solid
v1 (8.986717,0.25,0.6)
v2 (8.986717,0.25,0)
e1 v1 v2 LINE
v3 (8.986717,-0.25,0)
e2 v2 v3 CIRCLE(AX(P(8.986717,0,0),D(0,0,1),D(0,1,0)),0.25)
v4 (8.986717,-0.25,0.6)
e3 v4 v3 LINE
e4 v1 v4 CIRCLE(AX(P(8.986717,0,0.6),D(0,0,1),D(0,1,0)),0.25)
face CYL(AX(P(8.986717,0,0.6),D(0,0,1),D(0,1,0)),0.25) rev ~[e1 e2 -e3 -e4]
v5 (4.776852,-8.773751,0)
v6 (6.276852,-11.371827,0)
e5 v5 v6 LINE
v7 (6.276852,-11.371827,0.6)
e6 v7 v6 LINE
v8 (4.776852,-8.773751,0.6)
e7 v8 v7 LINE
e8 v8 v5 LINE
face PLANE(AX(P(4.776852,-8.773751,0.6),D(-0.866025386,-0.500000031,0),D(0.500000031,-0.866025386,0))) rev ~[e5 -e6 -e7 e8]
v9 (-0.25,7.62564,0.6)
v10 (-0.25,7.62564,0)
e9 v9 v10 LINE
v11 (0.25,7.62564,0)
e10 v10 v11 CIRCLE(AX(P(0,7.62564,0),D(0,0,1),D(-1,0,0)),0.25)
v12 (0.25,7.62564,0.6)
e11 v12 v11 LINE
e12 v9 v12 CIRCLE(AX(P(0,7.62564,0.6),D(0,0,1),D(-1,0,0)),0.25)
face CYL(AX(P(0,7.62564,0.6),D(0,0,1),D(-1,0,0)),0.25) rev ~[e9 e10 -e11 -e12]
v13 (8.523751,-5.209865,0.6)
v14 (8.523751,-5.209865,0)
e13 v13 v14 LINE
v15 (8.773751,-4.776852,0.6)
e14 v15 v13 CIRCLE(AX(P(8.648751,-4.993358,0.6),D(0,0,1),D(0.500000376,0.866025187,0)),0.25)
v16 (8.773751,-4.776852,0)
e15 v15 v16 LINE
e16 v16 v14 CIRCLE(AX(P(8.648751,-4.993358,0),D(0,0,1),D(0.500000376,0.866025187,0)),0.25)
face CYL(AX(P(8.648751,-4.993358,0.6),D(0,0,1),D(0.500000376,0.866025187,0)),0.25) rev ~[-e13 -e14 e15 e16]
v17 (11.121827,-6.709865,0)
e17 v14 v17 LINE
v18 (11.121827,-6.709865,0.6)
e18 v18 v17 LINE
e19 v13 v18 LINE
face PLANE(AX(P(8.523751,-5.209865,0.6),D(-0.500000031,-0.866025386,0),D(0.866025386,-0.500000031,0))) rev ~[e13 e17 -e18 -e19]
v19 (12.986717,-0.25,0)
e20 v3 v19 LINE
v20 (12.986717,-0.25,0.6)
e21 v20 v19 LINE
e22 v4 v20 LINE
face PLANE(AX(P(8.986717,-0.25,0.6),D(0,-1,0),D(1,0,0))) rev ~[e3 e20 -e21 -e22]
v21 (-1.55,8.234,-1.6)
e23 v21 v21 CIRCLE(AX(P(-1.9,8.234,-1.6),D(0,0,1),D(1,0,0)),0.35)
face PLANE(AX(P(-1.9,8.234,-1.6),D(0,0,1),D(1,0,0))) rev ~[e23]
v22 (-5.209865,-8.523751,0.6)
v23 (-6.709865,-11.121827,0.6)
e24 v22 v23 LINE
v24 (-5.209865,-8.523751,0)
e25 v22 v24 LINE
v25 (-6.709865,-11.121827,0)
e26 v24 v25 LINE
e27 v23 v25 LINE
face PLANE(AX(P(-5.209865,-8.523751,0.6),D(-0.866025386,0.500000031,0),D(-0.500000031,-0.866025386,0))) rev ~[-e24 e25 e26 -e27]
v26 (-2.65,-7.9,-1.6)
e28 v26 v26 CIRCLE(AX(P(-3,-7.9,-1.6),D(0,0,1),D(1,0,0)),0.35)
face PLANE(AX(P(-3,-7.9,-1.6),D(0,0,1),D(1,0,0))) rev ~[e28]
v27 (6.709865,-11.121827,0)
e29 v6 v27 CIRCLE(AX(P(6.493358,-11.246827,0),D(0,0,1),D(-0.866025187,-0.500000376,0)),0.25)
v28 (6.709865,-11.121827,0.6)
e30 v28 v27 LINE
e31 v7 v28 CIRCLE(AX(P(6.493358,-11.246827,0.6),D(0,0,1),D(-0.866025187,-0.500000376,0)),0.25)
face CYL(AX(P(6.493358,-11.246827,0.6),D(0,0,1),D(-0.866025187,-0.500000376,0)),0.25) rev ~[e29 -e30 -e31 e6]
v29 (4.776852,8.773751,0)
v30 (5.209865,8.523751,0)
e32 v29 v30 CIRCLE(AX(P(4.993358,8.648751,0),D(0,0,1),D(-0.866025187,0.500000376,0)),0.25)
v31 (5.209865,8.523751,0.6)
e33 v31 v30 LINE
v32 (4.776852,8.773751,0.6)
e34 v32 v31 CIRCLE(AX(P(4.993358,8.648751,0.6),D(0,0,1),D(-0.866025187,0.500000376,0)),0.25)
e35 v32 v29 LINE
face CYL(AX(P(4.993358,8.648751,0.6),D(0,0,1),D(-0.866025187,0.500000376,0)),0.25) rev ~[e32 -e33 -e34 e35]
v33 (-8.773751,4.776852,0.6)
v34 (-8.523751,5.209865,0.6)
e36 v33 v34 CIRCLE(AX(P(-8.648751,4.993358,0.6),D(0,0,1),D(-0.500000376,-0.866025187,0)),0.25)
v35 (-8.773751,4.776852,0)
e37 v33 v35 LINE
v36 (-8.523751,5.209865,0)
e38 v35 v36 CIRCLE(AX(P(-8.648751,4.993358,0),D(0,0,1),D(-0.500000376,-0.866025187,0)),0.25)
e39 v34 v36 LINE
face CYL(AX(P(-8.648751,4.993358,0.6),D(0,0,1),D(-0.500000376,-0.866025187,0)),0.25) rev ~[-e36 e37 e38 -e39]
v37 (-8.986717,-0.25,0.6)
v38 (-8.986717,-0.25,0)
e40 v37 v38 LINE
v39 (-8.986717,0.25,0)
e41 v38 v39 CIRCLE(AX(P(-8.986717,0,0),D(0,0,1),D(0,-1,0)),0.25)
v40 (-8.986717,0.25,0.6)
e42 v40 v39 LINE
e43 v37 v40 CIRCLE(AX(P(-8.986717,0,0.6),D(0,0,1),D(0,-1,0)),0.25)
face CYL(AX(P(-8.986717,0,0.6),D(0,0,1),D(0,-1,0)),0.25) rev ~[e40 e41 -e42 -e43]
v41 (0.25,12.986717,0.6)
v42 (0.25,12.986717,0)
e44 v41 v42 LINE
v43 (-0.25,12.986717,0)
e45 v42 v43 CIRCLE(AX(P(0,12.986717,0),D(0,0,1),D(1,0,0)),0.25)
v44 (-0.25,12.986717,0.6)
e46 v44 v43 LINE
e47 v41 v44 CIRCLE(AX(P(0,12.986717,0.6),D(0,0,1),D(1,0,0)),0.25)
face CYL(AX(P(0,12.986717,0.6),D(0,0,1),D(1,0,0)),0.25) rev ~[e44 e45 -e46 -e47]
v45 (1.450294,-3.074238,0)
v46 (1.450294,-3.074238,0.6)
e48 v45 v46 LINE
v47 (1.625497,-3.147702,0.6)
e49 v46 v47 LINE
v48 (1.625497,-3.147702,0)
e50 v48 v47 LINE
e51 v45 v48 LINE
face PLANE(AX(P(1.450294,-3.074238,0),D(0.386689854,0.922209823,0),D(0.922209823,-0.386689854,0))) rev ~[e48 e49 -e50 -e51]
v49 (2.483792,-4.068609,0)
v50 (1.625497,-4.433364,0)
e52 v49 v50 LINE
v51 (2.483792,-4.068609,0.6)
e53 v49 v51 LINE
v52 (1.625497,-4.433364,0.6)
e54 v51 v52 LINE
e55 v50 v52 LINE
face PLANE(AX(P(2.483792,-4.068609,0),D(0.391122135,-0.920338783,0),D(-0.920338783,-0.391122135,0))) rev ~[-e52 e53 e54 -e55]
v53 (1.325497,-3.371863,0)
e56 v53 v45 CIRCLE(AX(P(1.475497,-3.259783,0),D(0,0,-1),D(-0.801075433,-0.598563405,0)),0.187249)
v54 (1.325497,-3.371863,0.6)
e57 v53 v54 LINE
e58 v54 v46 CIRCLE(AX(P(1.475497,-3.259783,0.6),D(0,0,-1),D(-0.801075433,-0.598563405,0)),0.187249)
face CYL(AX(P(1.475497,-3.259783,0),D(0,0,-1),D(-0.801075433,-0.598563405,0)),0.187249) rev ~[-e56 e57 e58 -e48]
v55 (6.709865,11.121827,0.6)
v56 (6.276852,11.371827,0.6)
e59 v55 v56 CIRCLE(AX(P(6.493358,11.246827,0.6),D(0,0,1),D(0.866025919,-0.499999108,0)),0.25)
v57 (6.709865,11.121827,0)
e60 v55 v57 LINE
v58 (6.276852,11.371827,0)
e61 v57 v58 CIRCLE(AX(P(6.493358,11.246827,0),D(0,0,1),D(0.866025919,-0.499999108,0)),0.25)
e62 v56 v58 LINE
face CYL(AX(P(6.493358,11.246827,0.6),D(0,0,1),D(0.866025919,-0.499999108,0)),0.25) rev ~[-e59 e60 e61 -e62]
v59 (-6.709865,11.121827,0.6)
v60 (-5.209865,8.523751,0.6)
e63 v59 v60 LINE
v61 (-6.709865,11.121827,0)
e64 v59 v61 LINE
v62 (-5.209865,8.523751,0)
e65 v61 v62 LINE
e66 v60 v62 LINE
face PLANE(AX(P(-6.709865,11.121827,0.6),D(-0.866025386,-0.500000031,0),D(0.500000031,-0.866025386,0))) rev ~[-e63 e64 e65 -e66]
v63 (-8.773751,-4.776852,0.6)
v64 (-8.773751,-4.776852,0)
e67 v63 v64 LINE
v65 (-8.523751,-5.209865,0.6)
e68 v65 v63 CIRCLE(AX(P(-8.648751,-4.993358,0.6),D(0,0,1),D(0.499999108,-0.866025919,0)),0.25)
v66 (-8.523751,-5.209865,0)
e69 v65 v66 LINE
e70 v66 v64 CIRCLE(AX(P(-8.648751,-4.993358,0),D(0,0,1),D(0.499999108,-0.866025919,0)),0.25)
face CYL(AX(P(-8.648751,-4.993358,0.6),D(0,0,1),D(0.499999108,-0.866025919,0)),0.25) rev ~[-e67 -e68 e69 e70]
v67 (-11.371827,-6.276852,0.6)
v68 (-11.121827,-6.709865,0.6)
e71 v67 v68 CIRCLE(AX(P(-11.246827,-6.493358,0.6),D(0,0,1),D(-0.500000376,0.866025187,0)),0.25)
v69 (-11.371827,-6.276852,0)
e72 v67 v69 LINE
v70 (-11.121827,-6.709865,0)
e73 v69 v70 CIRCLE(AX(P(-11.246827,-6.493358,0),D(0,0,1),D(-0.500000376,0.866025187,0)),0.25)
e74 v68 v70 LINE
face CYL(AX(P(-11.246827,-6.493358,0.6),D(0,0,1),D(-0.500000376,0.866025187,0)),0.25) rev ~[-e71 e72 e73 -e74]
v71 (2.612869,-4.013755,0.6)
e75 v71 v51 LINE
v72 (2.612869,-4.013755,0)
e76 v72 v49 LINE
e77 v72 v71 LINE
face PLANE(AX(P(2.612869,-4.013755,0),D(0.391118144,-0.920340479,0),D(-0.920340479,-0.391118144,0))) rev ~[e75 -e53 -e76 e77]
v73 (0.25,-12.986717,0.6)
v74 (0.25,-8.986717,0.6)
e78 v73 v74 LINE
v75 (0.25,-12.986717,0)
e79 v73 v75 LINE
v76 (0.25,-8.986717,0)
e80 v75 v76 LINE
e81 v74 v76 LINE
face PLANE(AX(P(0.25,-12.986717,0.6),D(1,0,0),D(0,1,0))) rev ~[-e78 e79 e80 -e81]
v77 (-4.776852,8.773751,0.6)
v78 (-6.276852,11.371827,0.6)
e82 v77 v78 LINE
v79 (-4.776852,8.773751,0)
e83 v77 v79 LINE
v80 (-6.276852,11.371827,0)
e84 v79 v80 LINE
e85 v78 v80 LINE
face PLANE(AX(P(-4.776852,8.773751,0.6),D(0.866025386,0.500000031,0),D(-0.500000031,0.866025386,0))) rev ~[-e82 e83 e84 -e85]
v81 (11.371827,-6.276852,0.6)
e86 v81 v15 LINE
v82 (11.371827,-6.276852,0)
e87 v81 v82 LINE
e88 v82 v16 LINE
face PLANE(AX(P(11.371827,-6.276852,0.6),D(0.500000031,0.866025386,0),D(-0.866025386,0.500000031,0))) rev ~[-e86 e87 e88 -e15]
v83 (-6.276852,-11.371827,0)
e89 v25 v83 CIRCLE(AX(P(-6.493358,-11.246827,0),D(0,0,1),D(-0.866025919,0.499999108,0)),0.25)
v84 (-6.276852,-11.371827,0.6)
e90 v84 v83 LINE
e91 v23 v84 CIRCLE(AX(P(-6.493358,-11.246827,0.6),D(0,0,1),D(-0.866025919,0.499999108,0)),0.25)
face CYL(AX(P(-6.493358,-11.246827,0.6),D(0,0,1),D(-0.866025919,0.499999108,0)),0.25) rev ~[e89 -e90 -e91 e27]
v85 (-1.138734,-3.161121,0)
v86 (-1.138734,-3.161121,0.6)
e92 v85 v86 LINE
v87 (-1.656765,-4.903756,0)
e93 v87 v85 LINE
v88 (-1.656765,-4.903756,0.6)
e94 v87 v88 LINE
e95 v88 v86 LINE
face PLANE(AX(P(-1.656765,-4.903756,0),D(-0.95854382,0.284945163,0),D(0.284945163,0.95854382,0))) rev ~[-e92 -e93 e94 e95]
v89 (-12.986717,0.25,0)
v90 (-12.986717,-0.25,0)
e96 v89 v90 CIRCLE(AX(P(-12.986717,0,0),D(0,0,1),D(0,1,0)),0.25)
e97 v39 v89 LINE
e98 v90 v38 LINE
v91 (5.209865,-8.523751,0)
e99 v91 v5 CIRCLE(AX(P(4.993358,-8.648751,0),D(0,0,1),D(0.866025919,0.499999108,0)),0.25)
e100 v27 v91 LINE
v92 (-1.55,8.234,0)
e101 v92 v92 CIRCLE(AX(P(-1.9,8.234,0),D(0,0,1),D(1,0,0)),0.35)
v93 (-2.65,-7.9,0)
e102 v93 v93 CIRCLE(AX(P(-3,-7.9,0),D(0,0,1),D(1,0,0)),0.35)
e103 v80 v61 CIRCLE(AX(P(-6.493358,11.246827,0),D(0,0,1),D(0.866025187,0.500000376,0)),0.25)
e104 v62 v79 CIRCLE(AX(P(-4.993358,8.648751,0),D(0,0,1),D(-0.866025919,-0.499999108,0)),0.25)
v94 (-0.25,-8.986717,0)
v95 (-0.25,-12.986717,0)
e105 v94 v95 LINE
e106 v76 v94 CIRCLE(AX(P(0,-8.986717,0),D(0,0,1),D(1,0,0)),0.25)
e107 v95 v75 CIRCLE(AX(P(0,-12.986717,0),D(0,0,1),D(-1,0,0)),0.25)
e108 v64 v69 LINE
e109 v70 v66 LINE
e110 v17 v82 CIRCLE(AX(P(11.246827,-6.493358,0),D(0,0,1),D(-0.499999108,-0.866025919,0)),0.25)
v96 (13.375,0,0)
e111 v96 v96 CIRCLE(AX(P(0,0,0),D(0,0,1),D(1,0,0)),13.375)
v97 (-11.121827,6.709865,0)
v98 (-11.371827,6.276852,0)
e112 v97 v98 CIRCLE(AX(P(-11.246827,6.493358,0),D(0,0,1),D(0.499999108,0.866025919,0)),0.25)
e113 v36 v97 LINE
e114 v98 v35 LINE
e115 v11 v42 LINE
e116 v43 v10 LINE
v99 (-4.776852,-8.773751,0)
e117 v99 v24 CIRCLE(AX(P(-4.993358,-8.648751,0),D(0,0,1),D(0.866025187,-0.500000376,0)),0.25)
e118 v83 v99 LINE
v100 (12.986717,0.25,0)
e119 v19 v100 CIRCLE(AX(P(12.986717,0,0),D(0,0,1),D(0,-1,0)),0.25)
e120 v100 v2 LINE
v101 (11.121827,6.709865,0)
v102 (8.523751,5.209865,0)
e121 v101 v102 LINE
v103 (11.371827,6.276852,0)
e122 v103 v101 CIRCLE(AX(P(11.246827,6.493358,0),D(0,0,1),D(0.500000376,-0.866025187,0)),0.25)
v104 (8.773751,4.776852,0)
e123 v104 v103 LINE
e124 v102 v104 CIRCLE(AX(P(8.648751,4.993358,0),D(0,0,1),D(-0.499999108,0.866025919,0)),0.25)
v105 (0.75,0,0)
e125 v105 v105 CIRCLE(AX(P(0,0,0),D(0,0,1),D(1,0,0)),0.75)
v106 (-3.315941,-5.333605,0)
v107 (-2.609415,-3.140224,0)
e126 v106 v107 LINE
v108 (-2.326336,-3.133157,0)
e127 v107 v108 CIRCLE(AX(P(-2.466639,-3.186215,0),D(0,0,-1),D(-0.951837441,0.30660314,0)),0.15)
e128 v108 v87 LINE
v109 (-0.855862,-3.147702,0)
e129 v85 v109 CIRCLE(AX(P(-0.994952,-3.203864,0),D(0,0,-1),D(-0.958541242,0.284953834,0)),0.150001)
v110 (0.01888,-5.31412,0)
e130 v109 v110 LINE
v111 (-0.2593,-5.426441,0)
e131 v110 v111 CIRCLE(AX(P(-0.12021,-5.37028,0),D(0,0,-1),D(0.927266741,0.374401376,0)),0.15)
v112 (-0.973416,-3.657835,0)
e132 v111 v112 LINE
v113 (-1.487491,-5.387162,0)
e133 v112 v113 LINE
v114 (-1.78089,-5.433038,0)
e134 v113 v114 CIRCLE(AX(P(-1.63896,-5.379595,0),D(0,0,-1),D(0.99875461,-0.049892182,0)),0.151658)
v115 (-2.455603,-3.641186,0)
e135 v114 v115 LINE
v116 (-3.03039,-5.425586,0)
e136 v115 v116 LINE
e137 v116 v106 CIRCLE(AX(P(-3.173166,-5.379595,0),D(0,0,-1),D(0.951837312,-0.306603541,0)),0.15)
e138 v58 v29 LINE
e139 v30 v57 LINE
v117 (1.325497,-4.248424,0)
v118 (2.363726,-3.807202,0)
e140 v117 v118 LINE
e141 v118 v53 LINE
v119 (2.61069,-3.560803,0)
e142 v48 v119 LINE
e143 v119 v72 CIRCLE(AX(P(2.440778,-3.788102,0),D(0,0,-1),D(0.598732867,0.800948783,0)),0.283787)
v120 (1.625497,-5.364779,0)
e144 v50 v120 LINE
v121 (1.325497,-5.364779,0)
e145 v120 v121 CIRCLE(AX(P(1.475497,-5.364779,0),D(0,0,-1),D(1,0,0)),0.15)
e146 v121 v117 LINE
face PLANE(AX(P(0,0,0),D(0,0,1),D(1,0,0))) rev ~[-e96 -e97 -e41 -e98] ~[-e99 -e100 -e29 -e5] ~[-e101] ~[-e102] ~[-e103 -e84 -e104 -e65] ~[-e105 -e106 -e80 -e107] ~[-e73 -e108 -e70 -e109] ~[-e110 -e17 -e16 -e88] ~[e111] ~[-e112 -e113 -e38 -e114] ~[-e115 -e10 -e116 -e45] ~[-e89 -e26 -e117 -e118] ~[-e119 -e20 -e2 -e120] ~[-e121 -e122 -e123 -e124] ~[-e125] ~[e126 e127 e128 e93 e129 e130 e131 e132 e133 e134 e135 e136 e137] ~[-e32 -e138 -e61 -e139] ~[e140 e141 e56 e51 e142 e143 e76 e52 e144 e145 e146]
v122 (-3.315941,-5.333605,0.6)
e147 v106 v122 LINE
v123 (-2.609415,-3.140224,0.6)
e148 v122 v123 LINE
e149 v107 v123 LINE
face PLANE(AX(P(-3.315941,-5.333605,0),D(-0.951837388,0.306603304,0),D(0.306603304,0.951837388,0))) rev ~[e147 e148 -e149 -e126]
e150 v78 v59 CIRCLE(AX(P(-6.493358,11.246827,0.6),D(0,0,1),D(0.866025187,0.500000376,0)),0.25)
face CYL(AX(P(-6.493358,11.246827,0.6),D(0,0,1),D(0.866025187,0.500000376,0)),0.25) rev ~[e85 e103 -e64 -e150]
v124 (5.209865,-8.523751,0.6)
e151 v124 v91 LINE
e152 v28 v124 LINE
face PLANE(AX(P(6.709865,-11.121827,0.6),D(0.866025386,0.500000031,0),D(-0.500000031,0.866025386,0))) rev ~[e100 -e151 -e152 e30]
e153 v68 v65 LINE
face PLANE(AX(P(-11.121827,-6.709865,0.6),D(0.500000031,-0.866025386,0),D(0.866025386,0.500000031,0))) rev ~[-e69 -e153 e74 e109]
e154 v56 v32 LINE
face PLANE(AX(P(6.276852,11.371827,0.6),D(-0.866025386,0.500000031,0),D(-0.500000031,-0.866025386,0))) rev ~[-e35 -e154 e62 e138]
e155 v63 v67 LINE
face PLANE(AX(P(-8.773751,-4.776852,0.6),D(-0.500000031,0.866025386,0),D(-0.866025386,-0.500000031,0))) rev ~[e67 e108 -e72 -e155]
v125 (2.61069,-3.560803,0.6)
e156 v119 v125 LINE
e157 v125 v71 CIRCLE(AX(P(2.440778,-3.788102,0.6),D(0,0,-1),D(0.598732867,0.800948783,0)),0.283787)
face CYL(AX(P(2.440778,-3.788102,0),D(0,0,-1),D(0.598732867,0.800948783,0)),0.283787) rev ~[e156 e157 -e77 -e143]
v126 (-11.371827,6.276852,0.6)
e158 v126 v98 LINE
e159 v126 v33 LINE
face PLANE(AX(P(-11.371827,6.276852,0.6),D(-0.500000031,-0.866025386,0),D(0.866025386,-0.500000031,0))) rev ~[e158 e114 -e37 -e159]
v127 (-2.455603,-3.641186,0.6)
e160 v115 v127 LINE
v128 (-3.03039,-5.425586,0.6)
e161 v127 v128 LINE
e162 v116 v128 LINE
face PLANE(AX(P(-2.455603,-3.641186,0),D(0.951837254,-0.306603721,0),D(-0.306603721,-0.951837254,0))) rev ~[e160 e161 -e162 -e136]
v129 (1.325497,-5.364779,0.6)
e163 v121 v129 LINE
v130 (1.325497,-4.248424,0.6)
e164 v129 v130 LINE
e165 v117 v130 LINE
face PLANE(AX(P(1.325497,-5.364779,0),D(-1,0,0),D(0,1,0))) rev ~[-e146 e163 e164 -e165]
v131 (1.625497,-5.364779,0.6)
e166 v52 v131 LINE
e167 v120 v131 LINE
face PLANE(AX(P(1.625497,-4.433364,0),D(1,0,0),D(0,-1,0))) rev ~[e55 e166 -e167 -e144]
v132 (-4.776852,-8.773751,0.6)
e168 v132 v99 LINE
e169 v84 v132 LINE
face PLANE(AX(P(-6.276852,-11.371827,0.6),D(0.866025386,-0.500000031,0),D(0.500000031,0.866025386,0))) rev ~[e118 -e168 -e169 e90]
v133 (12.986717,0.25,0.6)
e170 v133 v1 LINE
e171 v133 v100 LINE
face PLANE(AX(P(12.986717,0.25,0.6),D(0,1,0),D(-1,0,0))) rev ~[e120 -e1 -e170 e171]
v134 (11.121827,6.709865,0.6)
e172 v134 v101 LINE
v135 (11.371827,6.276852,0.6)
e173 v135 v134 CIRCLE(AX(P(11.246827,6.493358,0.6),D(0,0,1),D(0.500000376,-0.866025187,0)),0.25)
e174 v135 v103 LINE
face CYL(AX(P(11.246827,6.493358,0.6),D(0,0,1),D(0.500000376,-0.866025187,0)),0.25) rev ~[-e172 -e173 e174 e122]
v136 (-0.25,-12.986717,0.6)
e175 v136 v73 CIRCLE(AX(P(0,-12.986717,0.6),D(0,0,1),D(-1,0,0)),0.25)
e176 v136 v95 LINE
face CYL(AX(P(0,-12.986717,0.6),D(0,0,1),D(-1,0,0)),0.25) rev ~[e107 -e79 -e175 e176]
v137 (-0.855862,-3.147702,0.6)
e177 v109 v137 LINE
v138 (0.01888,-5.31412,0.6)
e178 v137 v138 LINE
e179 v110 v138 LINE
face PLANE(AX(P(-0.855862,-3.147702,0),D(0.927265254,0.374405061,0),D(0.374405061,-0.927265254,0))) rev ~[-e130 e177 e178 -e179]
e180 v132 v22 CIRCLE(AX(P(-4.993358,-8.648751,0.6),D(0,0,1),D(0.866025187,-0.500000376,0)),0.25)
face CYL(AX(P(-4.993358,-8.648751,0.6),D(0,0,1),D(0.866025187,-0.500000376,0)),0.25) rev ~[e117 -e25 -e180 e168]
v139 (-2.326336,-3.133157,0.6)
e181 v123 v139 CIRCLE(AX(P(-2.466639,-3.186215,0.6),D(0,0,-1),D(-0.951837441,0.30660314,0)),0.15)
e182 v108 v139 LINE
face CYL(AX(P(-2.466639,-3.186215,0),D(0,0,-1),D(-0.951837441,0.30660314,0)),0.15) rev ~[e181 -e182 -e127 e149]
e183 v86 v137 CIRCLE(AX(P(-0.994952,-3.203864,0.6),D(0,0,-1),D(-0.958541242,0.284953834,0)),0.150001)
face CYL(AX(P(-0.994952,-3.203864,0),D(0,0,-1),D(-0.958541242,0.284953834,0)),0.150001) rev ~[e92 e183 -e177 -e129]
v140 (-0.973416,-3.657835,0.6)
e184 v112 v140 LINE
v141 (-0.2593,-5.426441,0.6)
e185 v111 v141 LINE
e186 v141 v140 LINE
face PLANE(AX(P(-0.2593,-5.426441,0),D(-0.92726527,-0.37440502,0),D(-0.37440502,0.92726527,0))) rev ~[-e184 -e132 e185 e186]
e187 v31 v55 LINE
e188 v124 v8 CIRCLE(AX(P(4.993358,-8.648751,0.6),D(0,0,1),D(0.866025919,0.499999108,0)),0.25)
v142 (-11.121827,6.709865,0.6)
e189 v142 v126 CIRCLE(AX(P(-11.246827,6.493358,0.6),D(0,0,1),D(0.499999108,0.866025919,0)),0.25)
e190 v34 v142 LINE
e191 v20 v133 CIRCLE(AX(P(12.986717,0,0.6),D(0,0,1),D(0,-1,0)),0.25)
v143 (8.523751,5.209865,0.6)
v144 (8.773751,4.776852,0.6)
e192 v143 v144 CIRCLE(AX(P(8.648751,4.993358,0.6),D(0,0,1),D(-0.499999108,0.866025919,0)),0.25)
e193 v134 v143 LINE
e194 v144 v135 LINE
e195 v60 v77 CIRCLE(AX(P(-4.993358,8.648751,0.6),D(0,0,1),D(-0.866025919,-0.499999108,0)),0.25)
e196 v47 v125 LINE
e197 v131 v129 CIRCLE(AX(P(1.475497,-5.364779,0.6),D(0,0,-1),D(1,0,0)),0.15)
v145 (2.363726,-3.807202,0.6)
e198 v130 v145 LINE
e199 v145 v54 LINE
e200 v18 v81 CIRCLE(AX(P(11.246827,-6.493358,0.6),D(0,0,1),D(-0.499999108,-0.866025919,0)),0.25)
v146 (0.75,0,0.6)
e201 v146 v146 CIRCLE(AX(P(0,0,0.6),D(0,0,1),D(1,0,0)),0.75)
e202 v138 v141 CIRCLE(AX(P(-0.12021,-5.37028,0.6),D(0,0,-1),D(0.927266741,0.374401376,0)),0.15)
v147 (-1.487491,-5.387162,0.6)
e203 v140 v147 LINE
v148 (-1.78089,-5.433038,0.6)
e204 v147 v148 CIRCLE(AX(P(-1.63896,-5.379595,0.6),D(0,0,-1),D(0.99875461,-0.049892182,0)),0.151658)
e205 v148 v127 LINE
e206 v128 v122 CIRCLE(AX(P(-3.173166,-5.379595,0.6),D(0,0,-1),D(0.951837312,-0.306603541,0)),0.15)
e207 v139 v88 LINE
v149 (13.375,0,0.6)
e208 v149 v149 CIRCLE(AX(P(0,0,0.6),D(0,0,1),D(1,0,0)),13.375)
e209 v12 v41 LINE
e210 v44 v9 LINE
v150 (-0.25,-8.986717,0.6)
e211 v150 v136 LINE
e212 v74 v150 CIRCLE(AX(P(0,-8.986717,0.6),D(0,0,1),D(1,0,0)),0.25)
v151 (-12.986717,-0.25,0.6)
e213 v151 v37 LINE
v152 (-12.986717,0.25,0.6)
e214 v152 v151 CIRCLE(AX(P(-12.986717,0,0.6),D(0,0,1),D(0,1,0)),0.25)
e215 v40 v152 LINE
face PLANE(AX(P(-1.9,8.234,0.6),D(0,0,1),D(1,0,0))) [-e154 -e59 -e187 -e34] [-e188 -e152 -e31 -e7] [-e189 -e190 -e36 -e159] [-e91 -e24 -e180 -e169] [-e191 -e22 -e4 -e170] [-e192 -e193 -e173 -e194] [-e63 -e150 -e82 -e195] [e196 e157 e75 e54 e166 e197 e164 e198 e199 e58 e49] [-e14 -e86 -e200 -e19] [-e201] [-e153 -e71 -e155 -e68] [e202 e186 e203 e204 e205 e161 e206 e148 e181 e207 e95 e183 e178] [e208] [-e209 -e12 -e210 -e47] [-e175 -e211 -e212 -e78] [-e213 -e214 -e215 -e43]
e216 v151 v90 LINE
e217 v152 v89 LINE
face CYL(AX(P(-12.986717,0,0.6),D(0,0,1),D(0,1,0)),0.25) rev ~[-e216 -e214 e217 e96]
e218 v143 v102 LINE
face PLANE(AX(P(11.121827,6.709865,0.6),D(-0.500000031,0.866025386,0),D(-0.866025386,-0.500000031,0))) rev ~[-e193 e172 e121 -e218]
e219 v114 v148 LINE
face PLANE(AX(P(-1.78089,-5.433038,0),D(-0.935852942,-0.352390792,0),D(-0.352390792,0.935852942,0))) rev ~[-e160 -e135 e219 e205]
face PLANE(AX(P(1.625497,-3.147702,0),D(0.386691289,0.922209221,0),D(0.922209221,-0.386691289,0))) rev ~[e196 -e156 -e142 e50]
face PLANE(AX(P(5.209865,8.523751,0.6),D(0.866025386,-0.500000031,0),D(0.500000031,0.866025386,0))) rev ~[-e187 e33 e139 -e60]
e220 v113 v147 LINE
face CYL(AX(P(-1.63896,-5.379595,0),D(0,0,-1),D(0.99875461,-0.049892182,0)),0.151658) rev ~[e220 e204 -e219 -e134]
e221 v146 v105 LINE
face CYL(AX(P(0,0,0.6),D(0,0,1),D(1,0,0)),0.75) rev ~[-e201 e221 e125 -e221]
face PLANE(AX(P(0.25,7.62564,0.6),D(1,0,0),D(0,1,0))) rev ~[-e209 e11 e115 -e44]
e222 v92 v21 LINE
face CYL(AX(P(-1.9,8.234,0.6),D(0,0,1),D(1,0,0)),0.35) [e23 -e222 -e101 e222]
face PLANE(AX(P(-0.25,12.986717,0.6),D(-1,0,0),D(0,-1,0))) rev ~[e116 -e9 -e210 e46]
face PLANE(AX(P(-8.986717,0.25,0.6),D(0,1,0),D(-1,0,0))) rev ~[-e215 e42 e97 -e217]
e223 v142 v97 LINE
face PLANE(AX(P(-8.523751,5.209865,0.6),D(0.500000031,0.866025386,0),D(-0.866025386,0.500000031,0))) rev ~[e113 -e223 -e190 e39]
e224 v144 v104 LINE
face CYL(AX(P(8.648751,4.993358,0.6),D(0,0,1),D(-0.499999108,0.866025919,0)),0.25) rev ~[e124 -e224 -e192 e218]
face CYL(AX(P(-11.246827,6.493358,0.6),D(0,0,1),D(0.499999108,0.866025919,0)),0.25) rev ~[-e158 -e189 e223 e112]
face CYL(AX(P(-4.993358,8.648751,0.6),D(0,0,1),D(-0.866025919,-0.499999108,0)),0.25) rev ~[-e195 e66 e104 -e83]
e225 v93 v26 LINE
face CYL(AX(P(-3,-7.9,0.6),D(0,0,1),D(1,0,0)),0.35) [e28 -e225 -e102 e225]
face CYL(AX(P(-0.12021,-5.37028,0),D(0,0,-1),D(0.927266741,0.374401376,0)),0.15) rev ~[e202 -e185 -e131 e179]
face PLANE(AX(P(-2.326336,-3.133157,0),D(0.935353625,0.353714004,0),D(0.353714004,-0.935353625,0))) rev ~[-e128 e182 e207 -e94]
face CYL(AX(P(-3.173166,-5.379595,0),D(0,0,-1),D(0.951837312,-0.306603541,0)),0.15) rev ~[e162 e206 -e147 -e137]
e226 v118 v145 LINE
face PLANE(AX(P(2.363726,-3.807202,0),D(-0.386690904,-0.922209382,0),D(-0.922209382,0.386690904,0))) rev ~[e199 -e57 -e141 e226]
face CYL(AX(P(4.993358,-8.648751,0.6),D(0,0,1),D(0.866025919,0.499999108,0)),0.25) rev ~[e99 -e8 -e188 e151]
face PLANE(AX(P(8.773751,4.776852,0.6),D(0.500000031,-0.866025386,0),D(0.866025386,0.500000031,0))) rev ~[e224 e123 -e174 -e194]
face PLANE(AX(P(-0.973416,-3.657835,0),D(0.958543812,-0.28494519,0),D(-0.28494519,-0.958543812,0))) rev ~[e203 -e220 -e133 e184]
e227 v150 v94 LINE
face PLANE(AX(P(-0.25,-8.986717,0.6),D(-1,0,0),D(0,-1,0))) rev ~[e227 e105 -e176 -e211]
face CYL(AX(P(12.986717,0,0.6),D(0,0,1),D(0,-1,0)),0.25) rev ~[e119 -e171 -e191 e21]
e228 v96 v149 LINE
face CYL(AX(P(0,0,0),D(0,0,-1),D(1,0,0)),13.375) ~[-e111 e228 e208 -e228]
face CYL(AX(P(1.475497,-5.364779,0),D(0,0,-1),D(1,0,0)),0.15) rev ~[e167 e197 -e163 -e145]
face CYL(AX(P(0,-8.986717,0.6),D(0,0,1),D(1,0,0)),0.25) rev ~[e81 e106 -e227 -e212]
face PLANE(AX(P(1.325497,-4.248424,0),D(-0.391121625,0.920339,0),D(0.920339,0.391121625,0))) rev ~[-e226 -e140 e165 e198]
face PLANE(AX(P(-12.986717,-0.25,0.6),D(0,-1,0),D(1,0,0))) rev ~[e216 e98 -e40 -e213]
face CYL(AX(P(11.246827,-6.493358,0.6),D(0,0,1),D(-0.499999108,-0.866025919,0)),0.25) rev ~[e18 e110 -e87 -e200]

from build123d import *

# Parameters (mm, degrees)
F0_R     = 13.375
F1_DEPTH = 0.6
F2_R     = 0.75
F3_DEPTH = 0.6
F4_R     = 0.35
F5_DEPTH = 2.2


with BuildPart() as f1:
    # F0 (on Top) → F1 (new body)
    with BuildSketch(Plane.XY):
        Circle(F0_R)
        with BuildLine():
            Line((-2.455603, -3.641186), (-3.03039, -5.425586))
            ThreePointArc((-3.03039, -5.425586), (-3.219156, -5.522371), (-3.315941, -5.333605))
            Line((-3.315941, -5.333605), (-2.609415, -3.140224))
            ThreePointArc((-2.609415, -3.140224), (-2.470382, -3.036261), (-2.326336, -3.133157))
            Line((-2.326336, -3.133157), (-1.656765, -4.903756))
            Line((-1.656765, -4.903756), (-1.138734, -3.161121))
            ThreePointArc((-1.138734, -3.161121), (-1.00206, -3.054032), (-0.855862, -3.147702))
            Line((-0.855862, -3.147702), (0.01888, -5.31412))
            ThreePointArc((0.01888, -5.31412), (-0.064049, -5.50937), (-0.2593, -5.426441))
            Line((-0.2593, -5.426441), (-0.973416, -3.657835))
            Line((-0.973416, -3.657835), (-1.487491, -5.387162))
            ThreePointArc((-1.487491, -5.387162), (-1.615532, -5.529433), (-1.78089, -5.433038))
            Line((-1.78089, -5.433038), (-2.455603, -3.641186))
        make_face(mode=Mode.SUBTRACT)
        with BuildLine():
            ThreePointArc((1.625497, -5.364779), (1.475497, -5.514779), (1.325497, -5.364779))
            Line((1.325497, -5.364779), (1.325497, -4.433364))
            Line((1.325497, -4.433364), (1.325497, -4.248424))
            Line((1.325497, -4.248424), (2.363726, -3.807202))
            Line((2.363726, -3.807202), (1.325497, -3.371863))
            ThreePointArc((1.325497, -3.371863), (1.302815, -3.187375), (1.450294, -3.074238))
            Line((1.450294, -3.074238), (1.625497, -3.147702))
            Line((1.625497, -3.147702), (2.61069, -3.560803))
            ThreePointArc((2.61069, -3.560803), (2.724561, -3.786736), (2.612869, -4.013755))
            Line((2.612869, -4.013755), (2.483792, -4.068609))
            Line((2.483792, -4.068609), (1.625497, -4.433364))
            Line((1.625497, -4.433364), (1.625497, -5.364779))
        make_face(mode=Mode.SUBTRACT)
    extrude(amount=F1_DEPTH)

    # F2 (on face) → F3 (cut, through all)
    with BuildSketch(Plane.XY.offset(0.6)):
        with BuildLine():
            ThreePointArc((-11.121827, 6.709865), (-11.463333, 6.618359), (-11.371827, 6.276852))
            Line((-11.371827, 6.276852), (-8.773751, 4.776852))
            ThreePointArc((-8.773751, 4.776852), (-8.432244, 4.868359), (-8.523751, 5.209865))
            Line((-8.523751, 5.209865), (-11.121827, 6.709865))
        make_face()
        with BuildLine():
            Line((-8.986717, 0.25), (-12.986717, 0.25))
            ThreePointArc((-12.986717, 0.25), (-13.236717, 0), (-12.986717, -0.25))
            Line((-12.986717, -0.25), (-8.986717, -0.25))
            ThreePointArc((-8.986717, -0.25), (-8.736717, 0), (-8.986717, 0.25))
        make_face()
        with BuildLine():
            ThreePointArc((-6.276852, 11.371827), (-6.618359, 11.463333), (-6.709865, 11.121827))
            Line((-6.709865, 11.121827), (-5.209865, 8.523751))
            ThreePointArc((-5.209865, 8.523751), (-4.868359, 8.432244), (-4.776852, 8.773751))
            Line((-4.776852, 8.773751), (-6.276852, 11.371827))
        make_face()
        with BuildLine():
            ThreePointArc((-0.25, 8.986717), (-0.176777, 9.163494), (0, 9.236717))
            ThreePointArc((0, 9.236717), (0.176777, 9.163494), (0.25, 8.986717))
            Line((0.25, 8.986717), (0.25, 12.986717))
            ThreePointArc((0.25, 12.986717), (0, 13.236717), (-0.25, 12.986717))
            Line((-0.25, 12.986717), (-0.25, 8.986717))
        make_face()
        with BuildLine():
            ThreePointArc((6.709865, 11.121827), (6.618359, 11.463333), (6.276852, 11.371827))
            Line((6.276852, 11.371827), (4.776852, 8.773751))
            ThreePointArc((4.776852, 8.773751), (4.868359, 8.432244), (5.209865, 8.523751))
            Line((5.209865, 8.523751), (6.709865, 11.121827))
        make_face()
        with BuildLine():
            ThreePointArc((11.371827, 6.276852), (11.463333, 6.618359), (11.121827, 6.709865))
            Line((11.121827, 6.709865), (8.523751, 5.209865))
            ThreePointArc((8.523751, 5.209865), (8.432244, 4.868359), (8.773751, 4.776852))
            Line((8.773751, 4.776852), (11.371827, 6.276852))
        make_face()
        with BuildLine():
            Line((8.986717, -0.25), (12.986717, -0.25))
            ThreePointArc((12.986717, -0.25), (13.236717, 0), (12.986717, 0.25))
            Line((12.986717, 0.25), (8.986717, 0.25))
            ThreePointArc((8.986717, 0.25), (8.736717, 0), (8.986717, -0.25))
        make_face()
        with BuildLine():
            ThreePointArc((11.121827, -6.709865), (11.463333, -6.618359), (11.371827, -6.276852))
            Line((11.371827, -6.276852), (8.773751, -4.776852))
            ThreePointArc((8.773751, -4.776852), (8.432244, -4.868359), (8.523751, -5.209865))
            Line((8.523751, -5.209865), (11.121827, -6.709865))
        make_face()
        with BuildLine():
            Line((-0.25, -8.986717), (-0.25, -12.986717))
            ThreePointArc((-0.25, -12.986717), (0, -13.236717), (0.25, -12.986717))
            Line((0.25, -12.986717), (0.25, -8.986717))
            ThreePointArc((0.25, -8.986717), (0, -8.736717), (-0.25, -8.986717))
        make_face()
        with BuildLine():
            ThreePointArc((6.276852, -11.371827), (6.618359, -11.463333), (6.709865, -11.121827))
            Line((6.709865, -11.121827), (5.209865, -8.523751))
            ThreePointArc((5.209865, -8.523751), (4.868359, -8.432244), (4.776852, -8.773751))
            Line((4.776852, -8.773751), (6.276852, -11.371827))
        make_face()
        with BuildLine():
            ThreePointArc((-6.709865, -11.121827), (-6.618359, -11.463333), (-6.276852, -11.371827))
            Line((-6.276852, -11.371827), (-4.776852, -8.773751))
            ThreePointArc((-4.776852, -8.773751), (-4.868359, -8.432244), (-5.209865, -8.523751))
            Line((-5.209865, -8.523751), (-6.709865, -11.121827))
        make_face()
        with BuildLine():
            ThreePointArc((-11.371827, -6.276852), (-11.463333, -6.618359), (-11.121827, -6.709865))
            Line((-11.121827, -6.709865), (-8.523751, -5.209865))
            ThreePointArc((-8.523751, -5.209865), (-8.432244, -4.868359), (-8.773751, -4.776852))
            Line((-8.773751, -4.776852), (-11.371827, -6.276852))
        make_face()
        Circle(F2_R)
        with BuildLine():
            ThreePointArc((0, 8.736717), (-0.176777, 8.80994), (-0.25, 8.986717))
            Line((-0.25, 8.986717), (-0.25, 7.62564))
            ThreePointArc((-0.25, 7.62564), (0, 7.37564), (0.25, 7.62564))
            Line((0.25, 7.62564), (0.25, 8.986717))
            ThreePointArc((0.25, 8.986717), (0.176777, 8.80994), (0, 8.736717))
        make_face()
        with BuildLine():
            Line((0, 8.986717), (0, 9.236717))
            ThreePointArc((0, 9.236717), (-0.176777, 9.163494), (-0.25, 8.986717))
            ThreePointArc((-0.25, 8.986717), (-0.176777, 8.80994), (0, 8.736717))
            Line((0, 8.736717), (0, 8.986717))
        make_face()
        with BuildLine():
            ThreePointArc((0.25, 8.986717), (0.176777, 9.163494), (0, 9.236717))
            Line((0, 9.236717), (0, 8.986717))
            Line((0, 8.986717), (0, 8.736717))
            ThreePointArc((0, 8.736717), (0.176777, 8.80994), (0.25, 8.986717))
        make_face()
    extrude(amount=-F3_DEPTH, mode=Mode.SUBTRACT)

    # F4 (on face) → F5 (join)
    with BuildSketch(Plane.XY.offset(0.6)):
        with Locations((-1.9, 8.234)):
            Circle(F4_R)
        with Locations((-3, -7.9)):
            Circle(F4_R)
    extrude(amount=-F5_DEPTH)


solid = f1.part
